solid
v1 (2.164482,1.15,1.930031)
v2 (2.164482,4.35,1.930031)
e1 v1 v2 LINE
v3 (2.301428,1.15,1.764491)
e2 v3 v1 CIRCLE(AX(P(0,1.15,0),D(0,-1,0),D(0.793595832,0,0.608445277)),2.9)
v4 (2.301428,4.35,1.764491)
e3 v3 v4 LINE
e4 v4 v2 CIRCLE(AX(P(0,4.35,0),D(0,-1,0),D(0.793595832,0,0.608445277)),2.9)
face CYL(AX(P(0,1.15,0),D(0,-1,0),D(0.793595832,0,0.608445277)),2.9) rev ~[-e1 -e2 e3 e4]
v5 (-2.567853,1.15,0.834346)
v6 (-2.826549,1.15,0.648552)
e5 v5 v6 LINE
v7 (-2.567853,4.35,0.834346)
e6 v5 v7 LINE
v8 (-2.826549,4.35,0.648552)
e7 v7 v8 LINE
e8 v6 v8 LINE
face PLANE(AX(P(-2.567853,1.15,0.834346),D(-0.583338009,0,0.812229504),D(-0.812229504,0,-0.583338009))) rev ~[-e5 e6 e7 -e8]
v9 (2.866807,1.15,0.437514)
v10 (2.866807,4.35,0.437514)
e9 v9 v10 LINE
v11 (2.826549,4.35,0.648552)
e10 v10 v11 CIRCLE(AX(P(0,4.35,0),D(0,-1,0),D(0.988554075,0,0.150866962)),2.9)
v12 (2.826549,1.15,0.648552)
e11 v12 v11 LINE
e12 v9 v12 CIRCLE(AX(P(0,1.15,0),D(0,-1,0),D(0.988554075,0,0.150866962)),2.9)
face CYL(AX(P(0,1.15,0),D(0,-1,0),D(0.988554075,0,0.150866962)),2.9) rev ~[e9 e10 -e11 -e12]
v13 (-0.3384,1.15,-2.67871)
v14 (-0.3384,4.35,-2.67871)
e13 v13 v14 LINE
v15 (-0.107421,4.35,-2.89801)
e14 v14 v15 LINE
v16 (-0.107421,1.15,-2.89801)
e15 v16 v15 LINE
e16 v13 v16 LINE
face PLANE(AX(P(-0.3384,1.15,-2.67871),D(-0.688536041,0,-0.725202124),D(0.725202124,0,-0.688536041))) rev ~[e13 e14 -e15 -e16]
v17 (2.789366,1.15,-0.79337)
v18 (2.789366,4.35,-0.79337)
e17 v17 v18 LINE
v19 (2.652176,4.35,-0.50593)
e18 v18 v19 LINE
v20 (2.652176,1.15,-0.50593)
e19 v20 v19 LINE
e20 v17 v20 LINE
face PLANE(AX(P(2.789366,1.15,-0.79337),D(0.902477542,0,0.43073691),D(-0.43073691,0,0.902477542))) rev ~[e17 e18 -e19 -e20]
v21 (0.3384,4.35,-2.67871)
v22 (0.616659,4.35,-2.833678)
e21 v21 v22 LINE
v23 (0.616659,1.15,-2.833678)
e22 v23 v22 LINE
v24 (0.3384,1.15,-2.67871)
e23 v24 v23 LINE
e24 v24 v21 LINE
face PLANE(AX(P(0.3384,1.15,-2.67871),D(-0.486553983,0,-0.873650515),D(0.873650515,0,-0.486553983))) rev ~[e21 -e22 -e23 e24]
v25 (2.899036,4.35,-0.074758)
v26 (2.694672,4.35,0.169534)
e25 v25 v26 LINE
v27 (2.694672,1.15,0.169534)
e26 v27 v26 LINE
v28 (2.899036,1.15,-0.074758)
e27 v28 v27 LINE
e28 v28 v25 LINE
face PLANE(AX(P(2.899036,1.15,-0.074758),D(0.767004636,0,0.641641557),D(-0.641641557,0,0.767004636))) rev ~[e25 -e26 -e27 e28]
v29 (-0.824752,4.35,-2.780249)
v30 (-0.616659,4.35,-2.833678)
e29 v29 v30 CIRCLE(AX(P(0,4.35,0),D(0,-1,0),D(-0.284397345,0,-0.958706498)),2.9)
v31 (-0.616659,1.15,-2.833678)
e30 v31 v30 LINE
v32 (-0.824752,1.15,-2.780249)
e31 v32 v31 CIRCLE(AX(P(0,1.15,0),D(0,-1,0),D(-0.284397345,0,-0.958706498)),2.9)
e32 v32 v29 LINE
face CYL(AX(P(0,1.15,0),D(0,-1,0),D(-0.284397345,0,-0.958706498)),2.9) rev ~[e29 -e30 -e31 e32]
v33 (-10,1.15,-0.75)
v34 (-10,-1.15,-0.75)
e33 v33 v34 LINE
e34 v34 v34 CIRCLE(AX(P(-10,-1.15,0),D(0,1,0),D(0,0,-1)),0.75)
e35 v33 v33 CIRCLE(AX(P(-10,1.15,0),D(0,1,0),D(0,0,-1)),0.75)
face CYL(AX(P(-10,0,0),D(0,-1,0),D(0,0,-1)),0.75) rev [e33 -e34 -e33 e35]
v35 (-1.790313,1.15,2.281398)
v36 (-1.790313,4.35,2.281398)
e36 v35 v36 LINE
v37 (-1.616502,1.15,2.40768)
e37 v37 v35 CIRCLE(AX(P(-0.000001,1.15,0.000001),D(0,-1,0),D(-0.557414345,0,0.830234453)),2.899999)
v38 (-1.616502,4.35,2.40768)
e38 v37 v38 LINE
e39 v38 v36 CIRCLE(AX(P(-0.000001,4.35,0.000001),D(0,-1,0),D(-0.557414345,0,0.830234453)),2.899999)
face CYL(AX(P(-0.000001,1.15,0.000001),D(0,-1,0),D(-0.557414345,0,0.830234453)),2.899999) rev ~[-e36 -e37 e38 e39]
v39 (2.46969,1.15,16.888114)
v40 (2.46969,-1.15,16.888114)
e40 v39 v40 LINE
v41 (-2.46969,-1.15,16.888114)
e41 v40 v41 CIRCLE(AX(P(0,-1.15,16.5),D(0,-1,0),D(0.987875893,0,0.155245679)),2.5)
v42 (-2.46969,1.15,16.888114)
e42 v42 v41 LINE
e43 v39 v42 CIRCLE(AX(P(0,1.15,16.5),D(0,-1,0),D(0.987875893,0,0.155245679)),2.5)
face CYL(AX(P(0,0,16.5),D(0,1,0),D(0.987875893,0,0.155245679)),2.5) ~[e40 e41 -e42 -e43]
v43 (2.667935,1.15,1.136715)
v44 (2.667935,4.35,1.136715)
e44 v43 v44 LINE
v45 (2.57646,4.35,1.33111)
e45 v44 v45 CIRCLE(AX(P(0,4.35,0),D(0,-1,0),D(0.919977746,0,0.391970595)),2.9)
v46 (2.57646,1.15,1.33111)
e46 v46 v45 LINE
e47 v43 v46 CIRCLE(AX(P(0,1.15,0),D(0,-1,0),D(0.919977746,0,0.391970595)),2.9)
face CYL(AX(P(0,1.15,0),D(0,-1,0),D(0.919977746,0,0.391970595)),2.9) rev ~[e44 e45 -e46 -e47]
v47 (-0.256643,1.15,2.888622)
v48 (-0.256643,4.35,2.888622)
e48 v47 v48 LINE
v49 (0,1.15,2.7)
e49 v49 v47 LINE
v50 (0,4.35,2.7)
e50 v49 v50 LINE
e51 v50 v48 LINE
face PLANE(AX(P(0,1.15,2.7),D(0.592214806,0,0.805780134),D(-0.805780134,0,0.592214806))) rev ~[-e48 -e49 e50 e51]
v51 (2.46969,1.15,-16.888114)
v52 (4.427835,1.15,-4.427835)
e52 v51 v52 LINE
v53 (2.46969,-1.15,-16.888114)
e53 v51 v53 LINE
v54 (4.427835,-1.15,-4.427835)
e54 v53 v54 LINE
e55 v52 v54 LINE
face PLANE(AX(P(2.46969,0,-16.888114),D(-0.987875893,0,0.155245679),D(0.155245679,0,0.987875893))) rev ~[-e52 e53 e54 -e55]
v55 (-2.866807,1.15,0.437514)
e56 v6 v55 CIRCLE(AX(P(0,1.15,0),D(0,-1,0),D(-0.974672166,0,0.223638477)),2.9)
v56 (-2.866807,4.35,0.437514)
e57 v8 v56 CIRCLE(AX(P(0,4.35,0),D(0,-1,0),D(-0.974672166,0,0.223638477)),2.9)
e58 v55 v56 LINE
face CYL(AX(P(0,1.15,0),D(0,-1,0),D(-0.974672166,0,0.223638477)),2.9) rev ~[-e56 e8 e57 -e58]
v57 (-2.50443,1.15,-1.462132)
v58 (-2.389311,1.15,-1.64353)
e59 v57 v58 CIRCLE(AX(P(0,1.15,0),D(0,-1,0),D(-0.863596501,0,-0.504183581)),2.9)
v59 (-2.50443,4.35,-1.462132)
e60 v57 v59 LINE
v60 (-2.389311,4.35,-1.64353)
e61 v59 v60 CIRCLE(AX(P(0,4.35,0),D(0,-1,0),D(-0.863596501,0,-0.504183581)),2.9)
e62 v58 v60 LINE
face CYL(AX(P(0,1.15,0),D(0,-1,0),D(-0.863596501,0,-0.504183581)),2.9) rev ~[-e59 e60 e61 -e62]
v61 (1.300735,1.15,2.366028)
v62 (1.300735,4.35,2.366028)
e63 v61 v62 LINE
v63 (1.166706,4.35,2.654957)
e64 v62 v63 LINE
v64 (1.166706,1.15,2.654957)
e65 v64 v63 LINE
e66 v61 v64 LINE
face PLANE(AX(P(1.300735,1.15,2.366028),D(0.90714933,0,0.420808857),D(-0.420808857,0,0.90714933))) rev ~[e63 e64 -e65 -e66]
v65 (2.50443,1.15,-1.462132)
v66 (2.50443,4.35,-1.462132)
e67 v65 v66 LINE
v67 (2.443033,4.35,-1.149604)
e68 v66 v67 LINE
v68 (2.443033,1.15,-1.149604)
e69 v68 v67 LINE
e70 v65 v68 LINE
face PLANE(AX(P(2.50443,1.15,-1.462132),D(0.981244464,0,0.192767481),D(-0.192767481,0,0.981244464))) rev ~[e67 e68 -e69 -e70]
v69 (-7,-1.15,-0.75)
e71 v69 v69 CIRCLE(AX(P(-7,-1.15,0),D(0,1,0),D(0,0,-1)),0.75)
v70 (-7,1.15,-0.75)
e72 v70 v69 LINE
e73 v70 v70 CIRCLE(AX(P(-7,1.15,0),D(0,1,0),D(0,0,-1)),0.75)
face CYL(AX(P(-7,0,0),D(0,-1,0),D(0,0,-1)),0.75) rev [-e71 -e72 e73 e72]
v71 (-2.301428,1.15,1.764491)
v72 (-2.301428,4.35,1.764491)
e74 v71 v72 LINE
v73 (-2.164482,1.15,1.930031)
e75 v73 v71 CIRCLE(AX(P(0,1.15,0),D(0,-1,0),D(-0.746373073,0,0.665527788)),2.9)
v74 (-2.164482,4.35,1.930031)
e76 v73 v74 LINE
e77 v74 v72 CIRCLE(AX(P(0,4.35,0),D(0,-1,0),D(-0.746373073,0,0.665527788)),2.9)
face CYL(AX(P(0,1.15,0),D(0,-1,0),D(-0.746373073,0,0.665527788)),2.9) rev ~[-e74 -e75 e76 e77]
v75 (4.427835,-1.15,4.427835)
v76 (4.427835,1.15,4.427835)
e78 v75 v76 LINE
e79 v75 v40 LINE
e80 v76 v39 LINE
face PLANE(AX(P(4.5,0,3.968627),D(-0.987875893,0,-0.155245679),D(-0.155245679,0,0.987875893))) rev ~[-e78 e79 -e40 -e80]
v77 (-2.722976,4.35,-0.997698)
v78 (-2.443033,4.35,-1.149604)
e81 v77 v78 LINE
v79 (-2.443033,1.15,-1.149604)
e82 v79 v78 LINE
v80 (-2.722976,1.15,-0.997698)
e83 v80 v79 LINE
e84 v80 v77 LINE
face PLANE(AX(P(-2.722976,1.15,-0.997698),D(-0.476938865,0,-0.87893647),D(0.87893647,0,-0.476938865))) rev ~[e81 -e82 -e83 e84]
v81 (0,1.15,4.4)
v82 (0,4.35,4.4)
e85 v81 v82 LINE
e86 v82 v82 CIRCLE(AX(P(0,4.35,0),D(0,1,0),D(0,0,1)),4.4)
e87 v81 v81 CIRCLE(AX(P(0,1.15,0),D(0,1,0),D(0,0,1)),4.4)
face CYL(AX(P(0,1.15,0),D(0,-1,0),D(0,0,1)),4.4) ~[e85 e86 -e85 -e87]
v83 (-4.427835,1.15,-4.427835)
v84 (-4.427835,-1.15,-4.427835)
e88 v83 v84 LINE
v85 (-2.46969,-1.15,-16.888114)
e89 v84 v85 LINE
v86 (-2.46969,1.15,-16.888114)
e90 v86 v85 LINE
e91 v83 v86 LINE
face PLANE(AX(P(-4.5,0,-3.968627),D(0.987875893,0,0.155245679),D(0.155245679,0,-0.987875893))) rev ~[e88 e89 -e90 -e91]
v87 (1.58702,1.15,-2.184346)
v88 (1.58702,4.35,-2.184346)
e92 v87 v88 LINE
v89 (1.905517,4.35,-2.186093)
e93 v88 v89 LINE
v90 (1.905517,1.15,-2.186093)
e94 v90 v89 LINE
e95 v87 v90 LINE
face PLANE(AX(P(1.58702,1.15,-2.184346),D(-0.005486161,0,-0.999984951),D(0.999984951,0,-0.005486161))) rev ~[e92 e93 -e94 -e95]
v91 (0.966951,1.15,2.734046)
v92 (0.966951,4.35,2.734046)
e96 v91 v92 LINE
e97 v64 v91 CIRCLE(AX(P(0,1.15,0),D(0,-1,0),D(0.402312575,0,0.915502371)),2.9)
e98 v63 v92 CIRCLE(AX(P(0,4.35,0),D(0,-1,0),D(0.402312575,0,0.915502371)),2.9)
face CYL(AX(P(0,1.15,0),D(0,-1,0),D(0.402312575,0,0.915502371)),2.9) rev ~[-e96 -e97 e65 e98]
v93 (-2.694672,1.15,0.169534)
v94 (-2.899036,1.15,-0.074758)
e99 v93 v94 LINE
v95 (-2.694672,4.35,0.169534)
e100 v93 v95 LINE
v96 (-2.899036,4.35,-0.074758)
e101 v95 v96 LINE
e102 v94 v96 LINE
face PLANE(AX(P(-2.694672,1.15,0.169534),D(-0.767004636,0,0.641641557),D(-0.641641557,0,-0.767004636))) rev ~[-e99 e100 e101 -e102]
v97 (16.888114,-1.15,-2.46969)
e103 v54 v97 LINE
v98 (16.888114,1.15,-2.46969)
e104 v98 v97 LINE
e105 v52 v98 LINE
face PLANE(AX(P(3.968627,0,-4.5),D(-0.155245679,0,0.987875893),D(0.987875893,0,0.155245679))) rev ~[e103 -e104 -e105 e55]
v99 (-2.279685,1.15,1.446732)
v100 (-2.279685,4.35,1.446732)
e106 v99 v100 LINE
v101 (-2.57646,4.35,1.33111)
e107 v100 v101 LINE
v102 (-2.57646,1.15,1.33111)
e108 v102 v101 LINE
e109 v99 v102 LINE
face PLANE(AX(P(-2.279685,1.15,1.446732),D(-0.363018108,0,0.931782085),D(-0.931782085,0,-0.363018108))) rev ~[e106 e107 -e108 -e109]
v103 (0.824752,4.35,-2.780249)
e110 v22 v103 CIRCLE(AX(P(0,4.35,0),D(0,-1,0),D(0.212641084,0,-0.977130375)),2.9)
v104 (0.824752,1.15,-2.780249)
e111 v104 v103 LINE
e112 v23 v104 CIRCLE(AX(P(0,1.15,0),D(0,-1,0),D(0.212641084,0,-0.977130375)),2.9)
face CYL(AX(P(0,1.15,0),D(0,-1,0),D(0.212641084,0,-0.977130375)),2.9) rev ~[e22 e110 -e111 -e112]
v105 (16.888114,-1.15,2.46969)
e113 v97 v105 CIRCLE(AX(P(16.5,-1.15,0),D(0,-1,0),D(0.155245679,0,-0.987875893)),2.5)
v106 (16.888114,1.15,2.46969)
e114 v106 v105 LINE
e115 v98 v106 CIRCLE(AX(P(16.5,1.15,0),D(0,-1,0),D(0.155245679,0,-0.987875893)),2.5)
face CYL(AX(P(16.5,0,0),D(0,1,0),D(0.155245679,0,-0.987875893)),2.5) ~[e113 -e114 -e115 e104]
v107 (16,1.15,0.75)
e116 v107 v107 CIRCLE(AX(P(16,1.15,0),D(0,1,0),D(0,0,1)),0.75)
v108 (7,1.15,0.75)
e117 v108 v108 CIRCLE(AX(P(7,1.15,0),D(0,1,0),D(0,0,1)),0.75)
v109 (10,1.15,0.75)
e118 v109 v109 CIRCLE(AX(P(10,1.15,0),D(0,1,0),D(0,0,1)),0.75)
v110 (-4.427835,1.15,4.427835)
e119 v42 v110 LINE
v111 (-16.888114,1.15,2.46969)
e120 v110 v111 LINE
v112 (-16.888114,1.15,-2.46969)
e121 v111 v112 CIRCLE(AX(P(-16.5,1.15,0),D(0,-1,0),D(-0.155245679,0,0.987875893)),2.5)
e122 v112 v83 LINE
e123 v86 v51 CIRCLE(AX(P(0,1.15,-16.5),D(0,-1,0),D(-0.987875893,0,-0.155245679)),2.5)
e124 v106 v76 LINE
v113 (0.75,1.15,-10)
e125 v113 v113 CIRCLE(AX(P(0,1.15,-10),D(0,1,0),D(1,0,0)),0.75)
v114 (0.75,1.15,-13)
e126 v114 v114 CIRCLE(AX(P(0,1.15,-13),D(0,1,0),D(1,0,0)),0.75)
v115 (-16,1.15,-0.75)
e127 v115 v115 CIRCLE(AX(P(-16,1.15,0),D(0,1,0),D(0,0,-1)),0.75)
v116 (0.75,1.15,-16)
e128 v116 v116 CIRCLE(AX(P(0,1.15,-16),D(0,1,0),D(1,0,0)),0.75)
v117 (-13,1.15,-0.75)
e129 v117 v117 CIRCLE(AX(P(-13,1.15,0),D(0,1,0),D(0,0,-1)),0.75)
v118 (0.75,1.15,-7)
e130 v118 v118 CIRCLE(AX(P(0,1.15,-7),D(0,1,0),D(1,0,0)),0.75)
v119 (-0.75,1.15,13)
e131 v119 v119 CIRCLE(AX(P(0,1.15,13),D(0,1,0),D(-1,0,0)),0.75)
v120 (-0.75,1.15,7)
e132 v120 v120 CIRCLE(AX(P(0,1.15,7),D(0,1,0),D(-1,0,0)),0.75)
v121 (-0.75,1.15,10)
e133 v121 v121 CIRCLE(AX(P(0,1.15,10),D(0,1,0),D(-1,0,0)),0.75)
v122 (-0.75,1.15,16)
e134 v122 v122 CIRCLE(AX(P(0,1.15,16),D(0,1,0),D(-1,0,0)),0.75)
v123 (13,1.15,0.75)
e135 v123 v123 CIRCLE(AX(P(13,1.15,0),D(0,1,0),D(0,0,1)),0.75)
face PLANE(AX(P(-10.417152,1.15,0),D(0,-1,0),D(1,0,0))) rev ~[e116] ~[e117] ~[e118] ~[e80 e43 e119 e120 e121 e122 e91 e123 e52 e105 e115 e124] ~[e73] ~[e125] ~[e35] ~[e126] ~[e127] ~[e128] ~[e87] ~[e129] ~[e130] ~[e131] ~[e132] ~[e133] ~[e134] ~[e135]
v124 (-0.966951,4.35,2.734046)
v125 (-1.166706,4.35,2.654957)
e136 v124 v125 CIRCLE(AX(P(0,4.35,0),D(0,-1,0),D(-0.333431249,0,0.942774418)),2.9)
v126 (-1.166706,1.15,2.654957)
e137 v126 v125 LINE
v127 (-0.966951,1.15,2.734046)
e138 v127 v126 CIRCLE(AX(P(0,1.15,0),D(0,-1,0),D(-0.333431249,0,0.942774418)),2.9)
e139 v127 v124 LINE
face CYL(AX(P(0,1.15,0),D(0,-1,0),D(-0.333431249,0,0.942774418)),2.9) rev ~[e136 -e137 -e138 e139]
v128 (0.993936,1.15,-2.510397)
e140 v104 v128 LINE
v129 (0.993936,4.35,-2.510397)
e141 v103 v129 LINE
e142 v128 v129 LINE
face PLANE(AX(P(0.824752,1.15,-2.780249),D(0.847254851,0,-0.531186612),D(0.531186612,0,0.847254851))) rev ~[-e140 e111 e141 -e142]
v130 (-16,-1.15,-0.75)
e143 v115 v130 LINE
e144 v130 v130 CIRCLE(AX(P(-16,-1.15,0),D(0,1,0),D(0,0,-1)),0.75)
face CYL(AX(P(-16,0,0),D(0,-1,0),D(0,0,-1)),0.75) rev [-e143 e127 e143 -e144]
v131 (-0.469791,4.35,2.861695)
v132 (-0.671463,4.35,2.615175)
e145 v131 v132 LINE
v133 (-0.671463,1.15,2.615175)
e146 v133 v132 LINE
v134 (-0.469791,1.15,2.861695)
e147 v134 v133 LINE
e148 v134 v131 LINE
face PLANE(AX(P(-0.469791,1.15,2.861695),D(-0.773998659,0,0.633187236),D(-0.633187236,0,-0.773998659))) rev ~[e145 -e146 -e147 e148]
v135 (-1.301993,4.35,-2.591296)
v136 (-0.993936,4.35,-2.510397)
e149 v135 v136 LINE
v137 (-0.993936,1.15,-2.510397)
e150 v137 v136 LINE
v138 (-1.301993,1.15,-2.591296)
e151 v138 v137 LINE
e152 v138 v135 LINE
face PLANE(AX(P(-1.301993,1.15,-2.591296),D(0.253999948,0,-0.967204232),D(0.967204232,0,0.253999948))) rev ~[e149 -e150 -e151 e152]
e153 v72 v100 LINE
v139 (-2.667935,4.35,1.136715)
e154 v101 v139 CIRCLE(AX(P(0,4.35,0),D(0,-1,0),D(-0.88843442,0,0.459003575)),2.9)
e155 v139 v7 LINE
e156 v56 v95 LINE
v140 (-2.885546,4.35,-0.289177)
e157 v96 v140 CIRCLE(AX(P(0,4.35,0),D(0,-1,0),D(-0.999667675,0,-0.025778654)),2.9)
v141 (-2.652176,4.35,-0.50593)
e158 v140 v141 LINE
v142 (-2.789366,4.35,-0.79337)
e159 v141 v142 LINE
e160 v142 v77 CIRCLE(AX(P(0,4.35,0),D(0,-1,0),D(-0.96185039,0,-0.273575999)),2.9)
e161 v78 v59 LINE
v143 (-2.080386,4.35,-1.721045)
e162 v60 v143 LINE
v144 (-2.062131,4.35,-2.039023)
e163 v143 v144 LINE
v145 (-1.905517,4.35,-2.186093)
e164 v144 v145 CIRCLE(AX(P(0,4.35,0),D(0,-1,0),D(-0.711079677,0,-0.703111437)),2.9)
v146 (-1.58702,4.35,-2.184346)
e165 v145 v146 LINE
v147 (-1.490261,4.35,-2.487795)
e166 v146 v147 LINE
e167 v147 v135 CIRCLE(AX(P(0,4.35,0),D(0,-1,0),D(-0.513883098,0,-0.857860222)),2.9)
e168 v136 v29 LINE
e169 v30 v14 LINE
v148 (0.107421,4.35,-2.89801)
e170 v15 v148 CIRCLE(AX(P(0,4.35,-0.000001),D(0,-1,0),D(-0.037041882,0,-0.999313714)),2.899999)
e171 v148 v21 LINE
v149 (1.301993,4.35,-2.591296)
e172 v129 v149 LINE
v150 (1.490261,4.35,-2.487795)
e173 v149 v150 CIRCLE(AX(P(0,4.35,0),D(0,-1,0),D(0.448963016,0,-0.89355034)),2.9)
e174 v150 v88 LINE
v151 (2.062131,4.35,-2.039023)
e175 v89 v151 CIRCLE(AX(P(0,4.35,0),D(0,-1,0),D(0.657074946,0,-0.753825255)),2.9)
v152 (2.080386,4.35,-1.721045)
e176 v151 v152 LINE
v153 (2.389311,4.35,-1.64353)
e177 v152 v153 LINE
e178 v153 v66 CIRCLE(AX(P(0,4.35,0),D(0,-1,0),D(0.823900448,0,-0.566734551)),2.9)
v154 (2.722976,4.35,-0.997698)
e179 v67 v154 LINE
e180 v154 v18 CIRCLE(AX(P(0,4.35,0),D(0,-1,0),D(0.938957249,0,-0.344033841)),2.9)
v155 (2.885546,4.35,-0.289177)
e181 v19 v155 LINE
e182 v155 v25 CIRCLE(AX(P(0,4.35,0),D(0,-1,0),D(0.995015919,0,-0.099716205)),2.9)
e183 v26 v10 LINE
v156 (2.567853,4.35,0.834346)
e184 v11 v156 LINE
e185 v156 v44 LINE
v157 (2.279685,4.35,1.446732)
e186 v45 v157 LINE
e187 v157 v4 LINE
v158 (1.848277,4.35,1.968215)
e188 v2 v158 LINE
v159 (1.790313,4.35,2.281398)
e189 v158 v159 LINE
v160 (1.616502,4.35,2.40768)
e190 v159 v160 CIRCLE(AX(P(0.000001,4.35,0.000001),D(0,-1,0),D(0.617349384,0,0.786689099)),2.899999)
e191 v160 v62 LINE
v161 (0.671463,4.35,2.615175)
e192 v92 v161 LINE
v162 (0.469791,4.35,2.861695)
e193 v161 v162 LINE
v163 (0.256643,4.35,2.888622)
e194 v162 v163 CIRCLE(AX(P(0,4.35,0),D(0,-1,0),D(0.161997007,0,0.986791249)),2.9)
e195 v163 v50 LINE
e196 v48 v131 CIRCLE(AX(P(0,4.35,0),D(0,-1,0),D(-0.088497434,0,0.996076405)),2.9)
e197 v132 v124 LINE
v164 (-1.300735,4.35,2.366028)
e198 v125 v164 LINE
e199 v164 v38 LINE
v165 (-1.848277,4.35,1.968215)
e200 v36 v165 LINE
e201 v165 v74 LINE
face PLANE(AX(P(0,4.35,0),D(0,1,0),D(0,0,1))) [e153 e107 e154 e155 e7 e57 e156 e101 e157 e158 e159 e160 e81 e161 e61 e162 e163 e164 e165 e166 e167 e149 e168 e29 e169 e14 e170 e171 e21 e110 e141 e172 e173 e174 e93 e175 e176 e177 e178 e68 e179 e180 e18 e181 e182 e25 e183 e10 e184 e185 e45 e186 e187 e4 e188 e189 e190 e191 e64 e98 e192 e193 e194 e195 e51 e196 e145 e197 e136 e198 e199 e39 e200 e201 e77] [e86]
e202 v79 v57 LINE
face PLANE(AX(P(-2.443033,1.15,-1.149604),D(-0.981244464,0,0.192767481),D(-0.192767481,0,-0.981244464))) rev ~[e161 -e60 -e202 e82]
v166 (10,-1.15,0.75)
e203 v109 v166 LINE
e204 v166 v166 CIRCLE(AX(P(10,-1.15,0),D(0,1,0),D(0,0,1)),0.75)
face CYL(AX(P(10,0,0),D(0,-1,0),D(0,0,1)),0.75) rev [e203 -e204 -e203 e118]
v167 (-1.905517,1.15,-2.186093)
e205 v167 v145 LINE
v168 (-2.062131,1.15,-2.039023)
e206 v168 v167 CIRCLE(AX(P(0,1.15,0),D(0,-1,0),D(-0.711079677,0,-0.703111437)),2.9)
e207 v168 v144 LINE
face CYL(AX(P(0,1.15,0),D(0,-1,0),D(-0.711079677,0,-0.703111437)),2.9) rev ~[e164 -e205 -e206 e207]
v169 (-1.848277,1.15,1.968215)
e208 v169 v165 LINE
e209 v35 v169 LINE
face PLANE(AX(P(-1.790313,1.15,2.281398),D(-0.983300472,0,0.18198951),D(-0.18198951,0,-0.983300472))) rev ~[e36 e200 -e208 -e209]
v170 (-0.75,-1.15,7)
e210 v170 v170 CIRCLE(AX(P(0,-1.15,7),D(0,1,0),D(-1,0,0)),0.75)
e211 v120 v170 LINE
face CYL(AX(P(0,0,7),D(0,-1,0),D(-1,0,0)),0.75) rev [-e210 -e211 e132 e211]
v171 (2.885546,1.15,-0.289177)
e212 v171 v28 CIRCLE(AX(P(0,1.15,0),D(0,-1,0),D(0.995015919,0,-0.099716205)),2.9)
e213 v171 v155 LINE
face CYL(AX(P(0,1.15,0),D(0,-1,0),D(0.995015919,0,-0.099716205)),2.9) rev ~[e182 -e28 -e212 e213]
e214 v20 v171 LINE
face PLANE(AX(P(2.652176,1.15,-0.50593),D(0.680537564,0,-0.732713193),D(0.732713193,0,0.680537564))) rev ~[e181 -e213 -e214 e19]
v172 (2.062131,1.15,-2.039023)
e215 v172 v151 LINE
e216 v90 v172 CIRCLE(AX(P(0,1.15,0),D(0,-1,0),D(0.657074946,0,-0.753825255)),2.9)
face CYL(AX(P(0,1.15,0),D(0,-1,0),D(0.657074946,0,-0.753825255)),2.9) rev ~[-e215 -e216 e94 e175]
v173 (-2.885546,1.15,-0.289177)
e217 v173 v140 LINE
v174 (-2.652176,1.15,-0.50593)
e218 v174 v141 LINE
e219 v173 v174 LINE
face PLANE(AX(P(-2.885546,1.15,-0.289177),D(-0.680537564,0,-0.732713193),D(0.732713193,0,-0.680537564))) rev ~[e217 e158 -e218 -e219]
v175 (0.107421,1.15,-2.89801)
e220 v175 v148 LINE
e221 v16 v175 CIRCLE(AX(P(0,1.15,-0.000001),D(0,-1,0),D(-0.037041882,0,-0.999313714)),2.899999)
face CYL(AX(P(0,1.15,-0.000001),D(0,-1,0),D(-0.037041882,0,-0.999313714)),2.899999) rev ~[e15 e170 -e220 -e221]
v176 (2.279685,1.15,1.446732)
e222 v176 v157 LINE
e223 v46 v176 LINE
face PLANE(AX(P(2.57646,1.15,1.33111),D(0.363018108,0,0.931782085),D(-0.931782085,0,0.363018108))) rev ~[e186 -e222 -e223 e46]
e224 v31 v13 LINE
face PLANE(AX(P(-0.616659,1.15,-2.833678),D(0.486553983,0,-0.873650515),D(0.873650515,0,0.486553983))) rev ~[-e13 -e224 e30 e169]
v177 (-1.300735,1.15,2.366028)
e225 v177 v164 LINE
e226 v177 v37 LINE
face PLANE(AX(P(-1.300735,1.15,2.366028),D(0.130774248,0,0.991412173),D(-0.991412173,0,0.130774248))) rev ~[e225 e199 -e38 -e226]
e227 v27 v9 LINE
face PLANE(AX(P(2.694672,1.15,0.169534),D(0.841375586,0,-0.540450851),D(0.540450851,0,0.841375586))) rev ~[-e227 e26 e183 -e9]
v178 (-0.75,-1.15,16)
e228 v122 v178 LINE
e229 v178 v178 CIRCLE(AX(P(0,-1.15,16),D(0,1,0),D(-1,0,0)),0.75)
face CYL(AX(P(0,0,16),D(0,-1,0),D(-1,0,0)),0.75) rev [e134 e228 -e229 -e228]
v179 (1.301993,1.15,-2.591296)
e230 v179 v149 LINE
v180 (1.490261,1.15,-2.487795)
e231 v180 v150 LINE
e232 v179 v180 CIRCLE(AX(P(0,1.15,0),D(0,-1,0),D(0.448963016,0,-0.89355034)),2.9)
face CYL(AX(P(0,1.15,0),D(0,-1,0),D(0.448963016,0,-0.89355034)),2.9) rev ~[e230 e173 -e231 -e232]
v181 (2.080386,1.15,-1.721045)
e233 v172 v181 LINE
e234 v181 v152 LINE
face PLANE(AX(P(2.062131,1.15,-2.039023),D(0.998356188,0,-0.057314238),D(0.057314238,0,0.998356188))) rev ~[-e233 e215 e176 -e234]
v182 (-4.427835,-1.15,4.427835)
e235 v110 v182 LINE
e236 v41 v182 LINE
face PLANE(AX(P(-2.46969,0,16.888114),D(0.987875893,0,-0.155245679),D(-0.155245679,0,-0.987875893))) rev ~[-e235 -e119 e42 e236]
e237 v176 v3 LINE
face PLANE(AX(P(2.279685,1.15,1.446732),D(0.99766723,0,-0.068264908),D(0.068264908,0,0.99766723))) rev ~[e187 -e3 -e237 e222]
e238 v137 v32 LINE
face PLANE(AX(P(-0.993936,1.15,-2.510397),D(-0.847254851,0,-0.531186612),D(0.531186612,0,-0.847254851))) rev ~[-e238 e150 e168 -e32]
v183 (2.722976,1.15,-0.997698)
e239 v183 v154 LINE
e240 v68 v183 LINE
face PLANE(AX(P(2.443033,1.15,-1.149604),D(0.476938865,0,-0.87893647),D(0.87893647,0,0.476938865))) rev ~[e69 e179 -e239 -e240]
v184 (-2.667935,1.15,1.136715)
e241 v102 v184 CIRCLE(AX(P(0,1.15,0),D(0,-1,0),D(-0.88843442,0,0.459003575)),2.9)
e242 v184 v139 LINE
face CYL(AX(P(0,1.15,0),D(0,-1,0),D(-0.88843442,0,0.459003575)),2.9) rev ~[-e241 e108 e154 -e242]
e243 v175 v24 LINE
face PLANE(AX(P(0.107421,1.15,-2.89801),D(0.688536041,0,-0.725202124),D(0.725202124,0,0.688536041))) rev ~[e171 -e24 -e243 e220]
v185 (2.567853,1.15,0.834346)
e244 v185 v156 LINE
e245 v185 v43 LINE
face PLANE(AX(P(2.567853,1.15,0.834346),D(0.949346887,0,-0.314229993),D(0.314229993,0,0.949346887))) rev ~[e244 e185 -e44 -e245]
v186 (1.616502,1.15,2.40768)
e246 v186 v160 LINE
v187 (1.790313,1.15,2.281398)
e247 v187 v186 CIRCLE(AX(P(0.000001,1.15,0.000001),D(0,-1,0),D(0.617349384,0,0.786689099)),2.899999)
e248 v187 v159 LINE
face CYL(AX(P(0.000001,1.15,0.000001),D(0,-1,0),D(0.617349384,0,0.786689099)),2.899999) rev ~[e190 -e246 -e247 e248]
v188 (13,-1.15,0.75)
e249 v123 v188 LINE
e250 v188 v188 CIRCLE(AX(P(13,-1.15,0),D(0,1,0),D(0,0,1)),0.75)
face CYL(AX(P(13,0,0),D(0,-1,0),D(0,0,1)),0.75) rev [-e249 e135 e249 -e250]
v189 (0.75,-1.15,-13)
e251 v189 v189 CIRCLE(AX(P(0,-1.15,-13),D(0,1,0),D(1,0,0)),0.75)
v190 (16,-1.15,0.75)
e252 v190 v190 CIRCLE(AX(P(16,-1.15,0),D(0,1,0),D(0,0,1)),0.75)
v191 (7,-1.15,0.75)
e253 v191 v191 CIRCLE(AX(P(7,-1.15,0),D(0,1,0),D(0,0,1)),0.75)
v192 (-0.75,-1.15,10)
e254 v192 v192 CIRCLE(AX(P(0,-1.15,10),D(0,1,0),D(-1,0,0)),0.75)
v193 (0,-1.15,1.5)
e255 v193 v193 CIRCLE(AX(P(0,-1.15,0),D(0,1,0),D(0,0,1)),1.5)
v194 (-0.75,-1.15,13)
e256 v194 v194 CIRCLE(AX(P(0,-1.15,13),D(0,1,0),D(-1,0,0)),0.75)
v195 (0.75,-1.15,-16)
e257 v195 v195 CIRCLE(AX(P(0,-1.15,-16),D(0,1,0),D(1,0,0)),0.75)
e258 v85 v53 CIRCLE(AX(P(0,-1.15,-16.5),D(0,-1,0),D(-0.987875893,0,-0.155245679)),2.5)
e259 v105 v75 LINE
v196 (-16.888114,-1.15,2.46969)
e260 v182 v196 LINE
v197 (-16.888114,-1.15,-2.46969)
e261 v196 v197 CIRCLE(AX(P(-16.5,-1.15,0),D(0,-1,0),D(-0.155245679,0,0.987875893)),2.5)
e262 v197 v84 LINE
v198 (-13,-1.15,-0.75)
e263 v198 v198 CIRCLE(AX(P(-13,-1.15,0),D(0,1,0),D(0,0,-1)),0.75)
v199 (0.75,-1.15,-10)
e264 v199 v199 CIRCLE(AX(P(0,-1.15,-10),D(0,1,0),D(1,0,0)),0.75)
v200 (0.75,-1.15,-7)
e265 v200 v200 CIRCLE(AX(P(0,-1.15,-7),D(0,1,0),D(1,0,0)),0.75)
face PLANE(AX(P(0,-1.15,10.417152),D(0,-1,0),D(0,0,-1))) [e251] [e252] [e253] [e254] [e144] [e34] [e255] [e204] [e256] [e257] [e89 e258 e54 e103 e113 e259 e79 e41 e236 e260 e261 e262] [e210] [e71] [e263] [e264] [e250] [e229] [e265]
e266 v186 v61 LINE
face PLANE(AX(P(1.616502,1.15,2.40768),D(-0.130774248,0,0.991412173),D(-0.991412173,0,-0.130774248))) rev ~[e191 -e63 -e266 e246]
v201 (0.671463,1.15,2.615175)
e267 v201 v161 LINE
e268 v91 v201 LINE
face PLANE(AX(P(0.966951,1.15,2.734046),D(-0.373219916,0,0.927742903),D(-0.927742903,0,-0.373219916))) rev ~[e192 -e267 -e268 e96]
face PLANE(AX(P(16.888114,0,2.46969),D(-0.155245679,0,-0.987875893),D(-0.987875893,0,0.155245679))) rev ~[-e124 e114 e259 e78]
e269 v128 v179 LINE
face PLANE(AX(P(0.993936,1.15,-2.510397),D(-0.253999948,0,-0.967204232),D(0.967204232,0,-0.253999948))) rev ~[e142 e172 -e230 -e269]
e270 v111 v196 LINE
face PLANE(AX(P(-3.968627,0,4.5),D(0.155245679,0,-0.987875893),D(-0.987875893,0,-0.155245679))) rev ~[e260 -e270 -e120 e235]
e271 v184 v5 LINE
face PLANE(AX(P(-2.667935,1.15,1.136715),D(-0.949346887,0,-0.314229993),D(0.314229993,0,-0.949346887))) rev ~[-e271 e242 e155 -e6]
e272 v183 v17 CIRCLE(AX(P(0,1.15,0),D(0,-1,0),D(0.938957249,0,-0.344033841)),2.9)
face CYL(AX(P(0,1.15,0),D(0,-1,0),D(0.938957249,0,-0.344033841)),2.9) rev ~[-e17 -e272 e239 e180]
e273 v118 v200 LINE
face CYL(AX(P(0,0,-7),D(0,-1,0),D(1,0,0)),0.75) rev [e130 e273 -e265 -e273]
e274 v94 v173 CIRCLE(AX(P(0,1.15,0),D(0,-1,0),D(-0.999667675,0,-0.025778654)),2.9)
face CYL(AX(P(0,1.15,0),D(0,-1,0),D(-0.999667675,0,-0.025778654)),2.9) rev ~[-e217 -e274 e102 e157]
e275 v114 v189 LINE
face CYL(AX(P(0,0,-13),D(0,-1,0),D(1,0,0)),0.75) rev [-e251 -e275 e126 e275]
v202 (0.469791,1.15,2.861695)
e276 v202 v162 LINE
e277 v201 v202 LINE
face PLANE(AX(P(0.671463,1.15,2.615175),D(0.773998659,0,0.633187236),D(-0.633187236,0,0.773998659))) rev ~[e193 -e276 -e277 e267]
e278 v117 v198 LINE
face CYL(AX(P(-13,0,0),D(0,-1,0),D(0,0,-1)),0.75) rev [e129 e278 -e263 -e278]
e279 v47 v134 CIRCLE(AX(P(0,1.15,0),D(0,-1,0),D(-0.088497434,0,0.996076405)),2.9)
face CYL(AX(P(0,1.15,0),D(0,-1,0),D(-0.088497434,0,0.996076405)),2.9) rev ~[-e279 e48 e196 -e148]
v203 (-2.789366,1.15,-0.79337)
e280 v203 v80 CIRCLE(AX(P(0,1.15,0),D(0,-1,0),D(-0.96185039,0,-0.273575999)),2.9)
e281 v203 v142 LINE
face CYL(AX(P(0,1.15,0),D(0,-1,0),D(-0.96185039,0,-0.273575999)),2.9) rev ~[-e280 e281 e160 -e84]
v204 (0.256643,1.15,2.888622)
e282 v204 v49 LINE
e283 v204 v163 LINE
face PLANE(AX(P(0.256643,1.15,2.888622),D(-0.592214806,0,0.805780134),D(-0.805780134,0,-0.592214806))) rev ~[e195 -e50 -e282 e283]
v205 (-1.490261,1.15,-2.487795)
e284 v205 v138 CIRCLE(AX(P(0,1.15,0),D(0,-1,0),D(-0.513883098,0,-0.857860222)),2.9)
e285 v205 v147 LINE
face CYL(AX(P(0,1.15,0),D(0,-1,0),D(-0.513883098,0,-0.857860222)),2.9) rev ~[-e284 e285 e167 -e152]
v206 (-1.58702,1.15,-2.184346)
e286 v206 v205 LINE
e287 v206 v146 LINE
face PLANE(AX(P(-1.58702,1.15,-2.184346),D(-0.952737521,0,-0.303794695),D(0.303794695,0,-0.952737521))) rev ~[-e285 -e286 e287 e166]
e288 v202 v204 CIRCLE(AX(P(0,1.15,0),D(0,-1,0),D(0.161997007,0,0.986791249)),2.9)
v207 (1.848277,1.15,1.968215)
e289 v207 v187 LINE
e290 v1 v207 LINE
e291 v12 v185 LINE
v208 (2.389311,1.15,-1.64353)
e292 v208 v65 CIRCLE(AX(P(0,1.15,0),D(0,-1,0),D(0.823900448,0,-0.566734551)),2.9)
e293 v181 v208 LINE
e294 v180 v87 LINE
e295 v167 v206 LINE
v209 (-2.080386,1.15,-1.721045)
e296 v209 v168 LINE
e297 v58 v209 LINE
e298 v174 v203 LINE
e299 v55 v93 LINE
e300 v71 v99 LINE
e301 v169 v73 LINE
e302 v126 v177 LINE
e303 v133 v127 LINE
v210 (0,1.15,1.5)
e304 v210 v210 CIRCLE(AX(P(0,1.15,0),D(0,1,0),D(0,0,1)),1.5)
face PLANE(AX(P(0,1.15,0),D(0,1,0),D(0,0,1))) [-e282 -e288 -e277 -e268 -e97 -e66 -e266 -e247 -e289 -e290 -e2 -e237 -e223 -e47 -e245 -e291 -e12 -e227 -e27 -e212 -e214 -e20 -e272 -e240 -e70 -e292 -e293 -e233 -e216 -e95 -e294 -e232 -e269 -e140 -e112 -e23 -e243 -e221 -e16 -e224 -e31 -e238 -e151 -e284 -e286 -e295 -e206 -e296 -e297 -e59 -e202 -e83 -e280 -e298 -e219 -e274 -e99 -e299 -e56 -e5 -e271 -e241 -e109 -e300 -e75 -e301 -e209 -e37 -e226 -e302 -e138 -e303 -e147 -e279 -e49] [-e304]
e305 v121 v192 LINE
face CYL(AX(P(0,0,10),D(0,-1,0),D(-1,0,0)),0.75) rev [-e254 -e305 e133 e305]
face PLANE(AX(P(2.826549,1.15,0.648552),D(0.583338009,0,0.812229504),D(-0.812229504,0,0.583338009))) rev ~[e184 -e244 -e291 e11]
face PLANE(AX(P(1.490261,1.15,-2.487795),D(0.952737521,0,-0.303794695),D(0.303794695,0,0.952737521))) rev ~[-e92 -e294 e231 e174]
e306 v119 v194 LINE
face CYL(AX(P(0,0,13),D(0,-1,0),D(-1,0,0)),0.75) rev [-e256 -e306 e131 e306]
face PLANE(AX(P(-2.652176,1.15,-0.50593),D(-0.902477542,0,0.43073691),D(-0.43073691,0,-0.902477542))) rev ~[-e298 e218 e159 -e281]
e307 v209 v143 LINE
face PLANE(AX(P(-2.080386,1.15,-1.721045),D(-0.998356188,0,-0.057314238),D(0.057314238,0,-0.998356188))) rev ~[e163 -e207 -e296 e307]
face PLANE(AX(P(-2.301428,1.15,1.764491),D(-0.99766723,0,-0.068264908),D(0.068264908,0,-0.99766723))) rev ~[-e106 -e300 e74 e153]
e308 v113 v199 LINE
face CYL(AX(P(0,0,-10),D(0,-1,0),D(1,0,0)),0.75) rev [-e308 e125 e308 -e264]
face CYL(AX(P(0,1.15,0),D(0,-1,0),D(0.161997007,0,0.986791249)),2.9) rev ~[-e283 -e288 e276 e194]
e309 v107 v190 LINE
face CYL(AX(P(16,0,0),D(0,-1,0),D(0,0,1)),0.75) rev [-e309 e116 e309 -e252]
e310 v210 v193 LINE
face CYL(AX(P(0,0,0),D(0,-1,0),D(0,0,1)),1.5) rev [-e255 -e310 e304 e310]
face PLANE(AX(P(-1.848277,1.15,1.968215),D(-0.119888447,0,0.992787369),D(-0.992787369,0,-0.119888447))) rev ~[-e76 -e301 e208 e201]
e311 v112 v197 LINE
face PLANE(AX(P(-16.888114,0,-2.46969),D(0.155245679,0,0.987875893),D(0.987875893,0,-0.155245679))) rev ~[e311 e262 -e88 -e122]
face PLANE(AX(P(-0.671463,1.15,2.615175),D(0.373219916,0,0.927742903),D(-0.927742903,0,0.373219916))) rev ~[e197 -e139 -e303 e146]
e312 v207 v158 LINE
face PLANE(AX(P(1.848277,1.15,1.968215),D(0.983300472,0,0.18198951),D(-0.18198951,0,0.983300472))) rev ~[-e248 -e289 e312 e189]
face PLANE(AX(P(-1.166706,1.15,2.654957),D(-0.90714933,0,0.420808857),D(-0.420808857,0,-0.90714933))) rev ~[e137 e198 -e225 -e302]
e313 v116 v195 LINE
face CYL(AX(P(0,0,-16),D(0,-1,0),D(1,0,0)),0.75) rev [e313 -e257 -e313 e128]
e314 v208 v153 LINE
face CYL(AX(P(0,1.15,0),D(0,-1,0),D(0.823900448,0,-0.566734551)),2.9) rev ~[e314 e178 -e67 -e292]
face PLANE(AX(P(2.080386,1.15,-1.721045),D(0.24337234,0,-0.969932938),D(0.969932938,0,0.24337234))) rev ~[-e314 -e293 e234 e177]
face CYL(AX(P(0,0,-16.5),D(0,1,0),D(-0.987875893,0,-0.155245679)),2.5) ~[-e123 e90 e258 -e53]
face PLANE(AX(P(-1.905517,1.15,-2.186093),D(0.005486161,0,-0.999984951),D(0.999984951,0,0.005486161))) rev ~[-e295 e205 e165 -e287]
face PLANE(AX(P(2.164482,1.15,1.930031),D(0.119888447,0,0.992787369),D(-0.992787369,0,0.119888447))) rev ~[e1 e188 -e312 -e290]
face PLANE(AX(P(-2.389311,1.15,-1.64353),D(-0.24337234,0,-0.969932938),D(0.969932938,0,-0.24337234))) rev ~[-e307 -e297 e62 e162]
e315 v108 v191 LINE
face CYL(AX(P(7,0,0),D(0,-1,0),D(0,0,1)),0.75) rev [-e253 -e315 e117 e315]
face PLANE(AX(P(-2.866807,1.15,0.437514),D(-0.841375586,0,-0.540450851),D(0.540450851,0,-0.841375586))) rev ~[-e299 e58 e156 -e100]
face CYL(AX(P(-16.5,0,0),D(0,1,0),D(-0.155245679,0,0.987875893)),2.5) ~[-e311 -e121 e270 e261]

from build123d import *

# Parameters (mm, degrees)
SKETCH2_R           = 6
SKETCH2_R_2         = 1.5
BOSS_EXTRUDE1_DEPTH = 1.15
SKETCH3_R           = 4.4
BOSS_EXTRUDE2_DEPTH = 3.2
SKETCH4_R           = 0.75
BOSS_EXTRUDE3_DEPTH = 1.15
CIRPATTERN1_COUNT   = 4


with BuildPart() as part:
    # Sketch2 → Boss-Extrude1 (new, symmetric)
    with BuildSketch(Plane(origin=(0, 0, 0), x_dir=(1, 0, 0), z_dir=(0, 1, 0))):
        with Locations(Location((0, 0, 0), (0, 0, 270))):
            Circle(SKETCH2_R)
        with Locations(Location((0, 0, 0), (0, 0, 270))):
            Circle(SKETCH2_R_2, mode=Mode.SUBTRACT)
    extrude(amount=BOSS_EXTRUDE1_DEPTH, both=True)

    # Sketch3 → Boss-Extrude2 (add)
    with BuildSketch(Plane(origin=(0, 1.15, 0), x_dir=(1, 0, 0), z_dir=(0, 1, 0))):
        with Locations(Location((0, 0, 0), (0, 0, 270))):
            Circle(SKETCH3_R)
        with BuildLine():
            Line((0.107421435, 2.898009771), (0.338399731, 2.678709694))
            Line((0.338399731, 2.678709694), (0.61665913, 2.83367809))
            ThreePointArc((0.61665913, 2.83367809), (0.721200673, 2.808891167), (0.824752316, 2.780248841))
            Line((0.824752316, 2.780248841), (0.993936292, 2.510396512))
            Line((0.993936292, 2.510396512), (1.301992734, 2.591295993))
            ThreePointArc((1.301992734, 2.591295993), (1.397085655, 2.541289372), (1.490260976, 2.48779465))
            Line((1.490260976, 2.48779465), (1.587020181, 2.184345885))
            Line((1.587020181, 2.184345885), (1.905517346, 2.186093238))
            ThreePointArc((1.905517346, 2.186093238), (1.985186607, 2.11400902), (2.062131058, 2.039023173))
            Line((2.062131058, 2.039023173), (2.080385755, 1.721044772))
            Line((2.080385755, 1.721044772), (2.389311295, 1.643530205))
            ThreePointArc((2.389311295, 1.643530205), (2.448550984, 1.553897705), (2.504429862, 1.46213237))
            Line((2.504429862, 1.46213237), (2.443033042, 1.149604087))
            Line((2.443033042, 1.149604087), (2.722976028, 0.997698125))
            ThreePointArc((2.722976028, 0.997698125), (2.758063897, 0.896149284), (2.789366126, 0.793370413))
            Line((2.789366126, 0.793370413), (2.652175577, 0.505929549))
            Line((2.652175577, 0.505929549), (2.885546163, 0.289177003))
            ThreePointArc((2.885546163, 0.289177003), (2.894277512, 0.182092507), (2.899036259, 0.074758075))
            Line((2.899036259, 0.074758075), (2.694672167, -0.169534403))
            Line((2.694672167, -0.169534403), (2.866806821, -0.437514174))
            ThreePointArc((2.866806821, -0.437514174), (2.848633027, -0.543405812), (2.826549281, -0.648551587))
            Line((2.826549281, -0.648551587), (2.567852594, -0.834345885))
            Line((2.567852594, -0.834345885), (2.667935462, -1.136714727))
            ThreePointArc((2.667935462, -1.136714727), (2.623998452, -1.234759946), (2.576459817, -1.331110368))
            Line((2.576459817, -1.331110368), (2.279685399, -1.446732346))
            Line((2.279685399, -1.446732346), (2.301427906, -1.764491312))
            ThreePointArc((2.301427906, -1.764491312), (2.234488404, -1.84852957), (2.164481907, -1.930030589))
            Line((2.164481907, -1.930030589), (1.848277186, -1.968215294))
            Line((1.848277186, -1.968215294), (1.790313171, -2.281398419))
            ThreePointArc((1.790313171, -2.281398419), (1.704577232, -2.346149284), (1.616501638, -2.40767989))
            Line((1.616501638, -2.40767989), (1.30073492, -2.366028036))
            Line((1.30073492, -2.366028036), (1.166706475, -2.654956874))
            ThreePointArc((1.166706475, -2.654956874), (1.067561203, -2.696351809), (0.966950626, -2.734045809))
            Line((0.966950626, -2.734045809), (0.671462695, -2.615174535))
            Line((0.671462695, -2.615174535), (0.469791321, -2.861694623))
            ThreePointArc((0.469791321, -2.861694623), (0.363466377, -2.877132634), (0.25664255, -2.888621575))
            Line((0.25664255, -2.888621575), (0, -2.7))
            Line((0, -2.7), (-0.25664255, -2.888621575))
            ThreePointArc((-0.25664255, -2.888621575), (-0.363466377, -2.877132634), (-0.469791321, -2.861694623))
            Line((-0.469791321, -2.861694623), (-0.671462695, -2.615174535))
            Line((-0.671462695, -2.615174535), (-0.966950626, -2.734045809))
            ThreePointArc((-0.966950626, -2.734045809), (-1.067561203, -2.696351809), (-1.166706475, -2.654956874))
            Line((-1.166706475, -2.654956874), (-1.30073492, -2.366028036))
            Line((-1.30073492, -2.366028036), (-1.616501638, -2.40767989))
            ThreePointArc((-1.616501638, -2.40767989), (-1.704577232, -2.346149284), (-1.790313171, -2.281398419))
            Line((-1.790313171, -2.281398419), (-1.848277186, -1.968215294))
            Line((-1.848277186, -1.968215294), (-2.164481907, -1.930030589))
            ThreePointArc((-2.164481907, -1.930030589), (-2.234488404, -1.84852957), (-2.301427906, -1.764491312))
            Line((-2.301427906, -1.764491312), (-2.279685399, -1.446732346))
            Line((-2.279685399, -1.446732346), (-2.576459817, -1.331110368))
            ThreePointArc((-2.576459817, -1.331110368), (-2.623998452, -1.234759946), (-2.667935462, -1.136714727))
            Line((-2.667935462, -1.136714727), (-2.567852594, -0.834345885))
            Line((-2.567852594, -0.834345885), (-2.826549281, -0.648551587))
            ThreePointArc((-2.826549281, -0.648551587), (-2.848633027, -0.543405812), (-2.866806821, -0.437514174))
            Line((-2.866806821, -0.437514174), (-2.694672167, -0.169534403))
            Line((-2.694672167, -0.169534403), (-2.899036259, 0.074758075))
            ThreePointArc((-2.899036259, 0.074758075), (-2.894277512, 0.182092507), (-2.885546163, 0.289177003))
            Line((-2.885546163, 0.289177003), (-2.652175577, 0.505929549))
            Line((-2.652175577, 0.505929549), (-2.789366126, 0.793370413))
            ThreePointArc((-2.789366126, 0.793370413), (-2.758063897, 0.896149284), (-2.722976028, 0.997698125))
            Line((-2.722976028, 0.997698125), (-2.443033042, 1.149604087))
            Line((-2.443033042, 1.149604087), (-2.504429862, 1.46213237))
            ThreePointArc((-2.504429862, 1.46213237), (-2.448550984, 1.553897705), (-2.389311295, 1.643530205))
            Line((-2.389311295, 1.643530205), (-2.080385755, 1.721044772))
            Line((-2.080385755, 1.721044772), (-2.062131058, 2.039023173))
            ThreePointArc((-2.062131058, 2.039023173), (-1.985186607, 2.11400902), (-1.905517346, 2.186093238))
            Line((-1.905517346, 2.186093238), (-1.587020181, 2.184345885))
            Line((-1.587020181, 2.184345885), (-1.490260976, 2.48779465))
            ThreePointArc((-1.490260976, 2.48779465), (-1.397085655, 2.541289372), (-1.301992734, 2.591295993))
            Line((-1.301992734, 2.591295993), (-0.993936292, 2.510396512))
            Line((-0.993936292, 2.510396512), (-0.824752316, 2.780248841))
            ThreePointArc((-0.824752316, 2.780248841), (-0.721200673, 2.808891167), (-0.61665913, 2.83367809))
            Line((-0.61665913, 2.83367809), (-0.338399731, 2.678709694))
            Line((-0.338399731, 2.678709694), (-0.107421435, 2.898009771))
            ThreePointArc((-0.107421435, 2.898009771), (0, 2.9), (0.107421435, 2.898009771))
        make_face(mode=Mode.SUBTRACT)
    extrude(amount=BOSS_EXTRUDE2_DEPTH)

    # Sketch4 → Boss-Extrude3 (add, symmetric)
    with BuildSketch(Plane(origin=(0, 0, 0), x_dir=(1, 0, 0), z_dir=(0, 1, 0))):
        with BuildLine():
            Line((3.968626967, 4.5), (16.888114198, 2.469689731))
            ThreePointArc((16.888114198, 2.469689731), (19, 0), (16.888114198, -2.469689731))
            Line((16.888114198, -2.469689731), (3.968626967, -4.5))
            ThreePointArc((3.968626967, -4.5), (6, 0), (3.968626967, 4.5))
        make_face()
        with Locations(Location((16, 0, 0), (0, 0, 270))):
            Circle(SKETCH4_R, mode=Mode.SUBTRACT)
        with Locations(Location((13, 0, 0), (0, 0, 270))):
            Circle(SKETCH4_R, mode=Mode.SUBTRACT)
        with Locations(Location((10, 0, 0), (0, 0, 270))):
            Circle(SKETCH4_R, mode=Mode.SUBTRACT)
        with Locations(Location((7, 0, 0), (0, 0, 270))):
            Circle(SKETCH4_R, mode=Mode.SUBTRACT)
    boss_extrude3 = extrude(amount=BOSS_EXTRUDE3_DEPTH, both=True)

    # CirPattern1: Boss-Extrude3 ×4 about axis
    cirpattern1_axis = Axis((0, 0, 0), (0, 1, 0))
    for i in range(1, CIRPATTERN1_COUNT):
        add(boss_extrude3.rotate(cirpattern1_axis, i * 360 / CIRPATTERN1_COUNT))


solid = part.part
